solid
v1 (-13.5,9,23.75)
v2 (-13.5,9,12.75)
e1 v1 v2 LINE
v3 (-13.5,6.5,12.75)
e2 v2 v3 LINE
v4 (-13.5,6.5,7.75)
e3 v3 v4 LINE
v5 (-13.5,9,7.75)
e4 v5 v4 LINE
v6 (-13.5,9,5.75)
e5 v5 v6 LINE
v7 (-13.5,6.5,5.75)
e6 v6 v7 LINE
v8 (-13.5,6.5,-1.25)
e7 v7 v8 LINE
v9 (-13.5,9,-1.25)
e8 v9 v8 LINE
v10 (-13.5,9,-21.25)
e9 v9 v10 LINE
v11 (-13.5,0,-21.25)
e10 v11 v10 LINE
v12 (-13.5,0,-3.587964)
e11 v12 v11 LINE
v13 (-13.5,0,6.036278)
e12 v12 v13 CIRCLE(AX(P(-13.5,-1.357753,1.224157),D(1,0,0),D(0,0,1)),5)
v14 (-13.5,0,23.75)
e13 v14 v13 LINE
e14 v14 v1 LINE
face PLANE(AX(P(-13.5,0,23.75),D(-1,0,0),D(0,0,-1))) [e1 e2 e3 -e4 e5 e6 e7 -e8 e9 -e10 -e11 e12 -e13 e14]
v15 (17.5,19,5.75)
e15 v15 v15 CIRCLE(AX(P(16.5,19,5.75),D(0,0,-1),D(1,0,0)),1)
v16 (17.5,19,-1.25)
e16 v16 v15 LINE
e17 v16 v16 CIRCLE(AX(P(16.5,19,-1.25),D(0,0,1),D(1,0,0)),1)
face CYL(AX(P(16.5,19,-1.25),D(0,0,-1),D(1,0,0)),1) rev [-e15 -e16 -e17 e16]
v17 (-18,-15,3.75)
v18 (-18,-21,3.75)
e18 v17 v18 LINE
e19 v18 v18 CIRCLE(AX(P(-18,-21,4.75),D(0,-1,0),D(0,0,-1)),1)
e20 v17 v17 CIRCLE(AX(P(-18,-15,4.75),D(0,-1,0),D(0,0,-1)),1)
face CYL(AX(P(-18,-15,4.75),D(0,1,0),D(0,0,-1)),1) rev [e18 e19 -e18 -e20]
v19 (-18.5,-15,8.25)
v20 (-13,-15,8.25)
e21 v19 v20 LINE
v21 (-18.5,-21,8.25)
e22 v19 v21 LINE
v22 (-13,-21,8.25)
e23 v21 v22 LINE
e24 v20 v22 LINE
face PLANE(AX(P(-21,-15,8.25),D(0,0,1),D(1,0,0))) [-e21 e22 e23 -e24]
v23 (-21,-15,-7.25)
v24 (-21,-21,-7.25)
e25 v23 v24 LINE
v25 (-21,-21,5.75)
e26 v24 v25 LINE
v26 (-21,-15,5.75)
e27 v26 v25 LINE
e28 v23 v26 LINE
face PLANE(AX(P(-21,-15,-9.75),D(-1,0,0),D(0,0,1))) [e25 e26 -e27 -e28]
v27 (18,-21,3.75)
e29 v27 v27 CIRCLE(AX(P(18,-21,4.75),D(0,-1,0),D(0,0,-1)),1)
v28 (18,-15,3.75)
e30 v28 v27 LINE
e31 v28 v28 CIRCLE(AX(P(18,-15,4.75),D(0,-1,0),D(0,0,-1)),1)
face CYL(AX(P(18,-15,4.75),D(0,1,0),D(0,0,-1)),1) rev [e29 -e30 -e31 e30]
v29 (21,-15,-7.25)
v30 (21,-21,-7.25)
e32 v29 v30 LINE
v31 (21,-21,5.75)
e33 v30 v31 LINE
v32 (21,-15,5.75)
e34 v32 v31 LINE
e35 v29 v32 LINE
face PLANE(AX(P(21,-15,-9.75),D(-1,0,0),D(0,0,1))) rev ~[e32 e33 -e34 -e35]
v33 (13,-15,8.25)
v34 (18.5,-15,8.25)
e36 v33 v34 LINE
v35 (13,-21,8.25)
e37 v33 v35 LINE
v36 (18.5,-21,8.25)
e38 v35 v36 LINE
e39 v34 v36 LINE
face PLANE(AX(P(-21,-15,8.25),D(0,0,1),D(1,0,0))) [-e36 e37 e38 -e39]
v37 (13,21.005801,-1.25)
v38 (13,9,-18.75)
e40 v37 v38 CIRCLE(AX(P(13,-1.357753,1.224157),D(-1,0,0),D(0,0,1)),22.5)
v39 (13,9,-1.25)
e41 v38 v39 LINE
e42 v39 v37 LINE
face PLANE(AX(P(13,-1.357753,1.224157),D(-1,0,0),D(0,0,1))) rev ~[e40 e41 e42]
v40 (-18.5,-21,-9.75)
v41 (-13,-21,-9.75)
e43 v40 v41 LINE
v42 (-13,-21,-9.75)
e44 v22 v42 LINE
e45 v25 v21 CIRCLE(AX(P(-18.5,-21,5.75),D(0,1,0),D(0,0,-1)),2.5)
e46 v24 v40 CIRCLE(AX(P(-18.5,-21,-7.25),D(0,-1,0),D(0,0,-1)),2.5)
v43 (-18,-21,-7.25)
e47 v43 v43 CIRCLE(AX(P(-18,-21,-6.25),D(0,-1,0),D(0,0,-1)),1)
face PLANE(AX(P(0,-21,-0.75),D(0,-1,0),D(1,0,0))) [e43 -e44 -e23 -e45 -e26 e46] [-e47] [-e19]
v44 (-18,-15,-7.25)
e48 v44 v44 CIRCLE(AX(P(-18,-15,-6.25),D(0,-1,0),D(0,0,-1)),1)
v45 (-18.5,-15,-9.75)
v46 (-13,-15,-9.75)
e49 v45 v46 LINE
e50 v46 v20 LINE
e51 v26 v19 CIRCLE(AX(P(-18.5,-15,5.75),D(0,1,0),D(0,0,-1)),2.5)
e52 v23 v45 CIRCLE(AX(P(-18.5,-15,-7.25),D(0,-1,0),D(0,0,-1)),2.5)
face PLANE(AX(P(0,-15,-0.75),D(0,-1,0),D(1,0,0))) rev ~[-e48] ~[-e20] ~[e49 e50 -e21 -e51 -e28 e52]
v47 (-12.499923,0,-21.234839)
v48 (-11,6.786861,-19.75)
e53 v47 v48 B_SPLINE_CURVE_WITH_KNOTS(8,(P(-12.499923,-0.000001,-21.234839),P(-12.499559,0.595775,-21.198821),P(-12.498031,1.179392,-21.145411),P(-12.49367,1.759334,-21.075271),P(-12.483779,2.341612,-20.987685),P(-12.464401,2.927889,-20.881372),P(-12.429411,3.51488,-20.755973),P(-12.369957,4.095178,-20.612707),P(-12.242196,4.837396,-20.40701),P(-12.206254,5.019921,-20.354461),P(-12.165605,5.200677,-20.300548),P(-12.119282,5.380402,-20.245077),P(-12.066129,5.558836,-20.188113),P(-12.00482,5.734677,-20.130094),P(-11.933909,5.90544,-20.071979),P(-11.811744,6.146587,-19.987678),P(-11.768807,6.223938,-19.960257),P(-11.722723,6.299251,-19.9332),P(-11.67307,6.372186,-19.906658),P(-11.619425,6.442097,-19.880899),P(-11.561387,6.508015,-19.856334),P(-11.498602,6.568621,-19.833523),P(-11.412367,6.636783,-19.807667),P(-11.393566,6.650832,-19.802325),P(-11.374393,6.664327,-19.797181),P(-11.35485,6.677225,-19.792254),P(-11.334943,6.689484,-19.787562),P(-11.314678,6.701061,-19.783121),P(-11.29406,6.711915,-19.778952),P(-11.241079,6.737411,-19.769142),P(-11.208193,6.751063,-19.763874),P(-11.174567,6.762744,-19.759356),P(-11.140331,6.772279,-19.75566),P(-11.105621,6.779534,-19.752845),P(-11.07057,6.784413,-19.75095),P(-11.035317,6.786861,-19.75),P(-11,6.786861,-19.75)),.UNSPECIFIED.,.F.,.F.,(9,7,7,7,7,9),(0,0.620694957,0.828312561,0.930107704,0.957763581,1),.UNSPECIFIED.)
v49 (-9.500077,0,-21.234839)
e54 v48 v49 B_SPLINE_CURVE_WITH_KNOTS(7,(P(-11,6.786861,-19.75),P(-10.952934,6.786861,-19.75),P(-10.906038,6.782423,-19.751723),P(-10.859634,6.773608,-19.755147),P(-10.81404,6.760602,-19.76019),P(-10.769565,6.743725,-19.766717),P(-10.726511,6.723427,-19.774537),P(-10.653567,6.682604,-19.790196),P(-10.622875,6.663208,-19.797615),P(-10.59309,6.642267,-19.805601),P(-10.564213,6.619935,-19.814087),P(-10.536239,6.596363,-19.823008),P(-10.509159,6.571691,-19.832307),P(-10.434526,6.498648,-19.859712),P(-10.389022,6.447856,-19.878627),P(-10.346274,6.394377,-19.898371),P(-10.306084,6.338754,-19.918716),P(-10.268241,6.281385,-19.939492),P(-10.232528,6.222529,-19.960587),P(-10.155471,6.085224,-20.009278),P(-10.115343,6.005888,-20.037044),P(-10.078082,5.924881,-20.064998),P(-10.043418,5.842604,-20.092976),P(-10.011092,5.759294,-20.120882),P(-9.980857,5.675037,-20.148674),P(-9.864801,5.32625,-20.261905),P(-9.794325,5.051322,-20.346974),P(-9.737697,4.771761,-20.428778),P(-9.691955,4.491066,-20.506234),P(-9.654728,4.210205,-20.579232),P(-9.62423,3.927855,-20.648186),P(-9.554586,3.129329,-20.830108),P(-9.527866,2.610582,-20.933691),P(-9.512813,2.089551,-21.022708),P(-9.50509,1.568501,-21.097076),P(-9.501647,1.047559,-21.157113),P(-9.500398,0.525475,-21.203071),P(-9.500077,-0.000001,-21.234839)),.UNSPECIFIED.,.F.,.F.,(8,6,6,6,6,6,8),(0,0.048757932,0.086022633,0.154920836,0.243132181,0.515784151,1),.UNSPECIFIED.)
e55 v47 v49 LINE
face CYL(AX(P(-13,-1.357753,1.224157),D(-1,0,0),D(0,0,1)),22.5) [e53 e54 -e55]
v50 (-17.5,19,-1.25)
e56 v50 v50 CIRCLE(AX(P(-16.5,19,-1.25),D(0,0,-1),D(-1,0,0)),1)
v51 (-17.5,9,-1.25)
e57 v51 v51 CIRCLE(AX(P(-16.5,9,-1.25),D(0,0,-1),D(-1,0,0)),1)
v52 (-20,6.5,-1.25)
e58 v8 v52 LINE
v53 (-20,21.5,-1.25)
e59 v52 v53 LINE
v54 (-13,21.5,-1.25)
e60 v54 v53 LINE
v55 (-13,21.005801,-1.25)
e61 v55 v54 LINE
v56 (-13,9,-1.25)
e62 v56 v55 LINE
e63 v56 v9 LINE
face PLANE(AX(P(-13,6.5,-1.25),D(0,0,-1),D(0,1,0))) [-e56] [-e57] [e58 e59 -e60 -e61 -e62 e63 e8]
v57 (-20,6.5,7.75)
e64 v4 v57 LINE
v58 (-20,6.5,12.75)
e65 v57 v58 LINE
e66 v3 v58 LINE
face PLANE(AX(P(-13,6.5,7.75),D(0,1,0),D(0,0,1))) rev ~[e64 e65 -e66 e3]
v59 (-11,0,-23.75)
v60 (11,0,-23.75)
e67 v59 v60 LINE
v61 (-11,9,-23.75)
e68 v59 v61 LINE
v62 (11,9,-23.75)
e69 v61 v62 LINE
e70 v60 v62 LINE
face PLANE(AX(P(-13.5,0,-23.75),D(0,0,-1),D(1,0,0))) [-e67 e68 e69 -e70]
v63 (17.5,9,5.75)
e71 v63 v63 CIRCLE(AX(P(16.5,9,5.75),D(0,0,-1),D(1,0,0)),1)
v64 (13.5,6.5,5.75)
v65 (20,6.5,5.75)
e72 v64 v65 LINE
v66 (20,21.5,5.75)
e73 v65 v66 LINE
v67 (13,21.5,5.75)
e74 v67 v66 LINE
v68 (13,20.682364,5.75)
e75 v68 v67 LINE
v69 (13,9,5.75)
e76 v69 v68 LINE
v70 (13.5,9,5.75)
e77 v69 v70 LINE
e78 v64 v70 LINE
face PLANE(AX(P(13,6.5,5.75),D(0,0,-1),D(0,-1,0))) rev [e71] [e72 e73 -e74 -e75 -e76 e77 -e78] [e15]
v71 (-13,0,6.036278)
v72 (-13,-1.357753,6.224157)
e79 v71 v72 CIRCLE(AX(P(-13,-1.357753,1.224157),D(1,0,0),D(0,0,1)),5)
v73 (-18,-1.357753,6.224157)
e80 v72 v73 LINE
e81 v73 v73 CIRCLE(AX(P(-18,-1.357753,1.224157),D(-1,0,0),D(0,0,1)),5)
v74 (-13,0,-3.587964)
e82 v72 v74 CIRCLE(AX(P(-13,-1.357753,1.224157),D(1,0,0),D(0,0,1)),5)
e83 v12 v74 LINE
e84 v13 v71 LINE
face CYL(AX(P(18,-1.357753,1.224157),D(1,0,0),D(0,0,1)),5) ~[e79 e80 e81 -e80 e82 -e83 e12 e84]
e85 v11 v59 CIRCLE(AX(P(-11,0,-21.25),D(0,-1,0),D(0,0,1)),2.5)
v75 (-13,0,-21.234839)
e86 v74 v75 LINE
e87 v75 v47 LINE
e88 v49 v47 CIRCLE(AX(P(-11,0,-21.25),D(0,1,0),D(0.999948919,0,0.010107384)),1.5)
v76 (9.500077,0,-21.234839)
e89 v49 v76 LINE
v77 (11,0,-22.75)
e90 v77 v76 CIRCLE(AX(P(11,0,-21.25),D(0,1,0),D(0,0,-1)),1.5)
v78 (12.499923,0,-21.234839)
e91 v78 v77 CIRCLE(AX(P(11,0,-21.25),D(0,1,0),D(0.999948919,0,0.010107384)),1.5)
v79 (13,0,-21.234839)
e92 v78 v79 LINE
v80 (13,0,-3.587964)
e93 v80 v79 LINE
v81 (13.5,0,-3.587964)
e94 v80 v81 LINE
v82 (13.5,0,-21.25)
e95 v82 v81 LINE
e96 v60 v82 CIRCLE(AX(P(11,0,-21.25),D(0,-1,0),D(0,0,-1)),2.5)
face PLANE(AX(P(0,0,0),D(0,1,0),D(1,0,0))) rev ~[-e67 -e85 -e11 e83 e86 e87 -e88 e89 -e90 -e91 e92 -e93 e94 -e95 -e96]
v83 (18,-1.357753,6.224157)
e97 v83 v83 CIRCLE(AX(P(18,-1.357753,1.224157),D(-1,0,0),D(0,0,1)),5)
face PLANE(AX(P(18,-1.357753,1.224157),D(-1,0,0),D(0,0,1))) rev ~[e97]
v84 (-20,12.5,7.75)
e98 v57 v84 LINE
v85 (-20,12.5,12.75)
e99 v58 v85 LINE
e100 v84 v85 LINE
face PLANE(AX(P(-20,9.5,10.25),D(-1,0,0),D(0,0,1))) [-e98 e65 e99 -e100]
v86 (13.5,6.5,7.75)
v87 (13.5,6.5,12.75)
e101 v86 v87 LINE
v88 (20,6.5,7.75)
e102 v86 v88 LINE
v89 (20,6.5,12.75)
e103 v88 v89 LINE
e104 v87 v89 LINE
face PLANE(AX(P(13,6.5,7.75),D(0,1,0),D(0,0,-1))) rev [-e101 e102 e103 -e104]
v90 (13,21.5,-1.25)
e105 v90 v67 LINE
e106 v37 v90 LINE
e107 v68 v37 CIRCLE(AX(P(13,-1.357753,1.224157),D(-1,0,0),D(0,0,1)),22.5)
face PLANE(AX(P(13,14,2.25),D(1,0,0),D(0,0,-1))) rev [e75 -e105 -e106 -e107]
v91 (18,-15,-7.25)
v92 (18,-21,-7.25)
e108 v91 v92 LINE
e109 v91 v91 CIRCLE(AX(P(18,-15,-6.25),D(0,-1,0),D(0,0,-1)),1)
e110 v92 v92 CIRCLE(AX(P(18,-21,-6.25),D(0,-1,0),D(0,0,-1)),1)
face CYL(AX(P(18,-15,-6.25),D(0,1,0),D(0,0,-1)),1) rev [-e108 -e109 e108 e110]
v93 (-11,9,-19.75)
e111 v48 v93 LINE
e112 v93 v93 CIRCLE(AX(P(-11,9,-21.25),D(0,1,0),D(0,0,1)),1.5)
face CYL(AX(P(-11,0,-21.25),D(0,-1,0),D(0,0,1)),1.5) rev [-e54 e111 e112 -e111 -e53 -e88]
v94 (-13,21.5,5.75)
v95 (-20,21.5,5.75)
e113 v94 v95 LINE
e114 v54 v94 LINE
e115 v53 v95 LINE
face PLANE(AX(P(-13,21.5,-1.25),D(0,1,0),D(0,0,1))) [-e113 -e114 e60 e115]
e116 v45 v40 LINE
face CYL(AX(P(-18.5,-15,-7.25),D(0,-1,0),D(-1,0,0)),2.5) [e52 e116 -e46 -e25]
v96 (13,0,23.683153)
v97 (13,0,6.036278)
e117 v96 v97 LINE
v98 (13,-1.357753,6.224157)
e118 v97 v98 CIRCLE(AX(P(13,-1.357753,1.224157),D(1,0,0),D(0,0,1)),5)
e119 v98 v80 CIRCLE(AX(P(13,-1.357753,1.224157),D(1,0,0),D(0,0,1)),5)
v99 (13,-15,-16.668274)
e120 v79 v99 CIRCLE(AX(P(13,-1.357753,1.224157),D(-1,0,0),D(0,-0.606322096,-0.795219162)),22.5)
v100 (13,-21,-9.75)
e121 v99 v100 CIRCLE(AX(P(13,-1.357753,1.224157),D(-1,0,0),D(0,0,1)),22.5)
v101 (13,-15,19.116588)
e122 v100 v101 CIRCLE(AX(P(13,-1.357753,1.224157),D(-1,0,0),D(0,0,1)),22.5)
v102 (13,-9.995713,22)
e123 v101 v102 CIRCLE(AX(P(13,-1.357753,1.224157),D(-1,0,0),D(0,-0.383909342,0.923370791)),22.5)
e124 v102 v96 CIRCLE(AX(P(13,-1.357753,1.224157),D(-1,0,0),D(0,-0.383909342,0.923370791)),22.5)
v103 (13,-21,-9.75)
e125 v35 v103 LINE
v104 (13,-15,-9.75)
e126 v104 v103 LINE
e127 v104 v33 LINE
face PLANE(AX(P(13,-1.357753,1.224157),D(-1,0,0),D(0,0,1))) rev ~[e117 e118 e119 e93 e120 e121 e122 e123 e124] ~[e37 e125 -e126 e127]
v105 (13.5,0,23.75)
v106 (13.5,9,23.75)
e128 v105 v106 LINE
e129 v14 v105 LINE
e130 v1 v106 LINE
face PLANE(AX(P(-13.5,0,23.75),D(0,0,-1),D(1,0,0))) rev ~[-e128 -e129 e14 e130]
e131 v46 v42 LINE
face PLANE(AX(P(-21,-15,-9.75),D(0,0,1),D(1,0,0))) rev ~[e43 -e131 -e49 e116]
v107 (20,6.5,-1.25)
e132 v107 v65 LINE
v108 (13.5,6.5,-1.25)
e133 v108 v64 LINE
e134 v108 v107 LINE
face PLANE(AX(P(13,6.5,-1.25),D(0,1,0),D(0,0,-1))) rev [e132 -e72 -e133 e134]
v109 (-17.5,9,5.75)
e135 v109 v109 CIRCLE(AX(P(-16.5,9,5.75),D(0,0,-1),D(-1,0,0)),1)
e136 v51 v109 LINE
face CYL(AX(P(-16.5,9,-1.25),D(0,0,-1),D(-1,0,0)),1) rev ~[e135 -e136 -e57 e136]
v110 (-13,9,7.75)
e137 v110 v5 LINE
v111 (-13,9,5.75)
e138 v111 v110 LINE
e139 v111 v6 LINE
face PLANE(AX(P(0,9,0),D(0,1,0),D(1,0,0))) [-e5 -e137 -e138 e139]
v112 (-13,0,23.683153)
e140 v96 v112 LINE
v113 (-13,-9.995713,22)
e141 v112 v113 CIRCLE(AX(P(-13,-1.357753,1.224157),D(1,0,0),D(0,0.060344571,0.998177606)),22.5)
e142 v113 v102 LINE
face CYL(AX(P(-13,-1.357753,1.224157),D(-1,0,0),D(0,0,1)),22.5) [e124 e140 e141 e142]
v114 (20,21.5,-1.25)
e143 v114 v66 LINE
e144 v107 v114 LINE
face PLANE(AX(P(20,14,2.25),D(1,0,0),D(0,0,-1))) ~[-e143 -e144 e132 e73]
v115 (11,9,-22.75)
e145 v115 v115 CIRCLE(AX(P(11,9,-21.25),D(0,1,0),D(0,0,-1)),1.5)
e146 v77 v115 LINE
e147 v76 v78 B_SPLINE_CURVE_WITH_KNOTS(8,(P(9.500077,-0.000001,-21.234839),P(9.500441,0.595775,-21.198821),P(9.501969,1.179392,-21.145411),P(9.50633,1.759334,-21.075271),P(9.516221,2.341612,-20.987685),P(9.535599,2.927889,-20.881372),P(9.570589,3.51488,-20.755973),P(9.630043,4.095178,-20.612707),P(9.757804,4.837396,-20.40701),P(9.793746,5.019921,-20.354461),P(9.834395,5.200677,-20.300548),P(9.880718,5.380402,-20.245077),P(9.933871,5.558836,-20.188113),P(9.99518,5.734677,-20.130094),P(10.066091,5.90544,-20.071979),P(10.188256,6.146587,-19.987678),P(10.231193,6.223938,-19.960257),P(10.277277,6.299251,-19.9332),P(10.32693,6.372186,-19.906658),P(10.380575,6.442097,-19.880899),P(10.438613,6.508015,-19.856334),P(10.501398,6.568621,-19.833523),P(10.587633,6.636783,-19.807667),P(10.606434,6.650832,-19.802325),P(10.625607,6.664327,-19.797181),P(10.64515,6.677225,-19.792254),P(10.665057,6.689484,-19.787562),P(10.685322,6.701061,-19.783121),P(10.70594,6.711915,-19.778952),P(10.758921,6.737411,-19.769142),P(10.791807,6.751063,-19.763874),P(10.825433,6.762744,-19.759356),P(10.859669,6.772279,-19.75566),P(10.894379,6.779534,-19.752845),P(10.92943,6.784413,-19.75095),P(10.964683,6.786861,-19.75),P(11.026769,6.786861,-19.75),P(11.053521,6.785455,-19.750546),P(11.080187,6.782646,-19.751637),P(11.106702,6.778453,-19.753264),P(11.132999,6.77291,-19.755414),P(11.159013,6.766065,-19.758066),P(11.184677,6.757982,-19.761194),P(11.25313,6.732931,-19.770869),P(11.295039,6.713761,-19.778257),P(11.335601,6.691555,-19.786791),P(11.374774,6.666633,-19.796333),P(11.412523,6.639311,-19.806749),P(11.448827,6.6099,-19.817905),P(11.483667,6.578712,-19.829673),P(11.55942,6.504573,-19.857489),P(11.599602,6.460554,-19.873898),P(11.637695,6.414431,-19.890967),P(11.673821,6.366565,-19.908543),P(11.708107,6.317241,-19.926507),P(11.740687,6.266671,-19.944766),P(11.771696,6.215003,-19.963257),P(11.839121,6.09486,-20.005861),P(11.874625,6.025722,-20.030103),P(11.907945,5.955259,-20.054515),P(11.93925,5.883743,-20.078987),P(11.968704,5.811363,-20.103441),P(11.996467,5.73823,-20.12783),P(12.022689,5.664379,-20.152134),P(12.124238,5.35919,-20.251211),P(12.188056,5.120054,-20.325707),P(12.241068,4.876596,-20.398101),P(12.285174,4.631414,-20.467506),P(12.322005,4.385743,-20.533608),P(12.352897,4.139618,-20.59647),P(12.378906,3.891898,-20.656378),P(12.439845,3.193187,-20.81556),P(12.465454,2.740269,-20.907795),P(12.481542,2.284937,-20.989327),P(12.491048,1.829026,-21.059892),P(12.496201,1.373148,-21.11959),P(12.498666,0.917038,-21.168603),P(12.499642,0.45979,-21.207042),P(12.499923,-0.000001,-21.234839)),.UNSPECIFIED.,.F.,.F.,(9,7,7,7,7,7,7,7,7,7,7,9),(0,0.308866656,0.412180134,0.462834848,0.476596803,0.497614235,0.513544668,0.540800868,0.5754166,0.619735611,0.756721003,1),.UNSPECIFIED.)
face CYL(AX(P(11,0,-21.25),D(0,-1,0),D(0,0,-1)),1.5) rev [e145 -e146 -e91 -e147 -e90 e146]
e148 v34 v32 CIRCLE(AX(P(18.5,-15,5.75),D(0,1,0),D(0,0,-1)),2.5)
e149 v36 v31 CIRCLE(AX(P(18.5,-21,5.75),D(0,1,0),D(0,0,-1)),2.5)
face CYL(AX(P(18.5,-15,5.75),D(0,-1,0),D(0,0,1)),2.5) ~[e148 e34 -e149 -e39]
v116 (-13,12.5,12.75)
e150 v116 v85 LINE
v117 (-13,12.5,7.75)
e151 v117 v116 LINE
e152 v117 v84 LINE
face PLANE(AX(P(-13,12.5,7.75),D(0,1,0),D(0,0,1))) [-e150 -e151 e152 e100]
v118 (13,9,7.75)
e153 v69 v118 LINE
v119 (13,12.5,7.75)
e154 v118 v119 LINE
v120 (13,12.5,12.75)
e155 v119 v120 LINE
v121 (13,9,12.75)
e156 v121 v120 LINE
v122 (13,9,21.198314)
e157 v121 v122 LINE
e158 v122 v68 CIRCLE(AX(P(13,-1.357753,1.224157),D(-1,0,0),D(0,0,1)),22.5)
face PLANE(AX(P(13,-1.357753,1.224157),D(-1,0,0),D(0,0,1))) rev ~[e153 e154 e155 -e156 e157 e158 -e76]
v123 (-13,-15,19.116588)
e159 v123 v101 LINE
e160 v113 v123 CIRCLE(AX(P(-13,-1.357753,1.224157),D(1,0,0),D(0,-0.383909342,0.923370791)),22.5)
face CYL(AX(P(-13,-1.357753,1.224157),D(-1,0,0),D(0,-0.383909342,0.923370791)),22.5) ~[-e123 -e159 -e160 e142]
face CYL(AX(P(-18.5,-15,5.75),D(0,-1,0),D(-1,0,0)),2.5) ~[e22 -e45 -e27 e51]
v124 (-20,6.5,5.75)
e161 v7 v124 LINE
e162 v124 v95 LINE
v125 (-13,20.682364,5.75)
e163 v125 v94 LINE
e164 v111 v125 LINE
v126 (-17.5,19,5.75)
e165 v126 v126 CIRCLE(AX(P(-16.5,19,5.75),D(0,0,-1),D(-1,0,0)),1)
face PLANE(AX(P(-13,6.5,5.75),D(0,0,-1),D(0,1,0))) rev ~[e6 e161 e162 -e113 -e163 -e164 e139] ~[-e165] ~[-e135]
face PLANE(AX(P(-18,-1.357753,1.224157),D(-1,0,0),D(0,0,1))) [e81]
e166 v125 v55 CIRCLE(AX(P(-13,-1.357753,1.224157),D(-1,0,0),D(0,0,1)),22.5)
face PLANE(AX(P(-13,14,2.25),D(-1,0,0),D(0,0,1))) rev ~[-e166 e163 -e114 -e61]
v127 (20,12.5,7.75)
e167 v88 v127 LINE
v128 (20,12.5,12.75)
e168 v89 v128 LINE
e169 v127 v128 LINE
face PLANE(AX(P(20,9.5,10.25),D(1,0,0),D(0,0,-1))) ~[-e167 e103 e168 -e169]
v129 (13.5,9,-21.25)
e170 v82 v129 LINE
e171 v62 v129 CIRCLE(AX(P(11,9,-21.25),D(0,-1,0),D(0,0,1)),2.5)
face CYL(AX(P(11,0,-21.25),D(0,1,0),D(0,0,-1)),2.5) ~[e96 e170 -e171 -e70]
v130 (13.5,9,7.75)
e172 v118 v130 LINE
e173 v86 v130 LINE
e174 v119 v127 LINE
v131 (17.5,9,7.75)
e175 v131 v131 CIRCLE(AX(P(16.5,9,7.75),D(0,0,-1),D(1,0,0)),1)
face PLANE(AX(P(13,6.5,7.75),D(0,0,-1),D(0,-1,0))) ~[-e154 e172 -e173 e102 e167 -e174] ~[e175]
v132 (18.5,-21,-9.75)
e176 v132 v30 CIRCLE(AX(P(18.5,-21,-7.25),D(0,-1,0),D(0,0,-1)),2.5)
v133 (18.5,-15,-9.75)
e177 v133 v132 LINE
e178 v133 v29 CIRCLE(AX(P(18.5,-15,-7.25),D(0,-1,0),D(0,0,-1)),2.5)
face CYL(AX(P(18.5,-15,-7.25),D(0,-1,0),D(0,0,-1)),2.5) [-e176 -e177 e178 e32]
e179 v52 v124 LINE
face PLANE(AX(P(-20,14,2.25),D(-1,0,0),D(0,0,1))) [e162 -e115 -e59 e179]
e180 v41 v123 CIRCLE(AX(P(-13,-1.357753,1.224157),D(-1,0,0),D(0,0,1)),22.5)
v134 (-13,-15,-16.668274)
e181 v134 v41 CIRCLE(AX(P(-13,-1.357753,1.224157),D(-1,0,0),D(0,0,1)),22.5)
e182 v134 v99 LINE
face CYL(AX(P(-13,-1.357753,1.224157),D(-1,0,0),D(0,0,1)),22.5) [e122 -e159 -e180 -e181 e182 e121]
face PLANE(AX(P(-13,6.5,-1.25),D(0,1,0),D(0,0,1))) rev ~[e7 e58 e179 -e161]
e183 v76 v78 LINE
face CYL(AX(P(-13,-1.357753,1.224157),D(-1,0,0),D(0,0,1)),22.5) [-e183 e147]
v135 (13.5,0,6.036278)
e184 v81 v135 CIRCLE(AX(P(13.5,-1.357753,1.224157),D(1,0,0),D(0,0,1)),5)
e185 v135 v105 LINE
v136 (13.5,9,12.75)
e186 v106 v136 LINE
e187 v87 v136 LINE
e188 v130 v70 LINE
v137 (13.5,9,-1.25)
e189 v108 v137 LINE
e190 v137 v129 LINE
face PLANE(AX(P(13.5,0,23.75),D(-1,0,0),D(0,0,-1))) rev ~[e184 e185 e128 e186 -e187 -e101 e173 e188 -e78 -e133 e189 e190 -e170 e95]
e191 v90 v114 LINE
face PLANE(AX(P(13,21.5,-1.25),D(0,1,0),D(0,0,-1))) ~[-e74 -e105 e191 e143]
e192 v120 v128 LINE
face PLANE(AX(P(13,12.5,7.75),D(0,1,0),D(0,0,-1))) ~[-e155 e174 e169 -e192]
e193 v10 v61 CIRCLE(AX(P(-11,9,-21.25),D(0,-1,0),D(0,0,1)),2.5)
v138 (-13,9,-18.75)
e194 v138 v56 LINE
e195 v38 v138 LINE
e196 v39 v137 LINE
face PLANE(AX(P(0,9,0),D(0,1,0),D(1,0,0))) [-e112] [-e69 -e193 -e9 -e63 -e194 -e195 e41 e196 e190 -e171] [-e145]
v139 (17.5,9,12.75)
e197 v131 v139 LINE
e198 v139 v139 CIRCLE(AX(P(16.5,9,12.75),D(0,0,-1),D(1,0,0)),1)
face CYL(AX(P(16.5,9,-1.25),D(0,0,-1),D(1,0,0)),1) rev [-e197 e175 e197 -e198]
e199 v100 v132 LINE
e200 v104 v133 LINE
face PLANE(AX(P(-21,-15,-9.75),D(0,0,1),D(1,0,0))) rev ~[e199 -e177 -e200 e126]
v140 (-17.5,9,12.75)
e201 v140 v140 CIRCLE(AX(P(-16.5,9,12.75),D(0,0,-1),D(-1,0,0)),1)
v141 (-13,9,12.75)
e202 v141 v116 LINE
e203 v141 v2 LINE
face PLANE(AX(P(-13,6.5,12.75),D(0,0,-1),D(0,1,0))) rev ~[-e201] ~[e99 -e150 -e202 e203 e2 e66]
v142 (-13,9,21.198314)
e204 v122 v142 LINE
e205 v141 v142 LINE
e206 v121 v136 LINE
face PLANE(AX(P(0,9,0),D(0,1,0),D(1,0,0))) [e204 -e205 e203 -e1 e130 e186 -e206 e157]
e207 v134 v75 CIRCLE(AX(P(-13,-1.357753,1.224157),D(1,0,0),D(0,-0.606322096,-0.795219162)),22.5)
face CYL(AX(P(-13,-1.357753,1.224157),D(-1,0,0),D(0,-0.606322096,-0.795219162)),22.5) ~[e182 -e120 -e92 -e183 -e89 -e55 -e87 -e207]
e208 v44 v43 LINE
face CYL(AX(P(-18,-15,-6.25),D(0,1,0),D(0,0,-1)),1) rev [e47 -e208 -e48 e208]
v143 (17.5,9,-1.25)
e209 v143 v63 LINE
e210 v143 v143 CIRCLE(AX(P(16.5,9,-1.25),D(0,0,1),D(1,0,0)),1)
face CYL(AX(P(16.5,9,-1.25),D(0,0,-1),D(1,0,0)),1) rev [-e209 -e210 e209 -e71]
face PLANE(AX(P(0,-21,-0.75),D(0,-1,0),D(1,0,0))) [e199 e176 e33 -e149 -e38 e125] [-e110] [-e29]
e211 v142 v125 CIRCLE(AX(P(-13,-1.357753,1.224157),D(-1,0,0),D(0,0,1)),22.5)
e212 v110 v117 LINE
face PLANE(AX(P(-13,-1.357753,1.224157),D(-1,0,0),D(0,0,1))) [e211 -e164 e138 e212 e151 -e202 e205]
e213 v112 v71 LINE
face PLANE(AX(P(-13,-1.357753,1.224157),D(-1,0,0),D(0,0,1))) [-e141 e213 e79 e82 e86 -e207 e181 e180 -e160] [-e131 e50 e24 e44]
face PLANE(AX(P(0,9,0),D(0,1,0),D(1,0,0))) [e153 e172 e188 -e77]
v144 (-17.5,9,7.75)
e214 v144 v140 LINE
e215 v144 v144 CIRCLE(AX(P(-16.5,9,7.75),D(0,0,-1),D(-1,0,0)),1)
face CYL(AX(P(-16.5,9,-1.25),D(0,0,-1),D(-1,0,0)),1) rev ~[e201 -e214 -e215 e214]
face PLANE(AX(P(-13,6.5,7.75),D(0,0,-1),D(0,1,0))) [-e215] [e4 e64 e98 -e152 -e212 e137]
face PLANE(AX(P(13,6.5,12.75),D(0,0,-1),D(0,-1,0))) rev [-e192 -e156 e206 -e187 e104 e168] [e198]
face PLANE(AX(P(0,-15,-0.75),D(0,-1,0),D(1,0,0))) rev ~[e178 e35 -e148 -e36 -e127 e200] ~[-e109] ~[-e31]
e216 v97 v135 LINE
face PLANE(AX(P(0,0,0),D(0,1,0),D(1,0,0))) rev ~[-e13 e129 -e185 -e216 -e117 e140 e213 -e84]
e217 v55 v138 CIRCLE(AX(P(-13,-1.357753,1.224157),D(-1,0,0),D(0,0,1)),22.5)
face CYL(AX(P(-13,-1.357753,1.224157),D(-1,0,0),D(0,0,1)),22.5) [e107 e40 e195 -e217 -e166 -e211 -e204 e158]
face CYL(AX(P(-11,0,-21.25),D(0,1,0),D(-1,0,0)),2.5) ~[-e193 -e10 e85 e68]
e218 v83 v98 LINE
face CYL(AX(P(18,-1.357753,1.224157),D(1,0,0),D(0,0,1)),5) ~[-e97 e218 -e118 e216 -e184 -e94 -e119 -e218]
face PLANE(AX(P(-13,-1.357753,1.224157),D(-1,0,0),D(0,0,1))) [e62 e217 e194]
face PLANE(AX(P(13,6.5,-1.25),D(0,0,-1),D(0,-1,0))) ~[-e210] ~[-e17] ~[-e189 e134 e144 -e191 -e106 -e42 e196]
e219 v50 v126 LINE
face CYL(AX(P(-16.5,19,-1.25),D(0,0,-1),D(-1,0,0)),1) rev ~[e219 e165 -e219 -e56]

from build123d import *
from build123d.topology import SkipClean

# Parameters (mm, degrees)
SKETCH3_W                 = 27
SKETCH3_H                 = 47.5
SKETCH3_R                 = 1.5
BOSS_EXTRUDE1_DEPTH       = 9
FILLET1_R                 = 2.5
SKETCH4_W                 = 26
SKETCH4_H                 = 44
BOSS_EXTRUDE5_DEPTH       = 15
SKETCH5_W                 = 25
SKETCH5_H                 = 18
BOSS_EXTRUDE6_DEPTH       = 5
SKETCH5_3_W               = 42
SKETCH5_3_H               = 18
SKETCH5_3_R               = 1
BOSS_EXTRUDE7_DEPTH       = 6
FILLET4_R                 = 2.5
CUT_EXTRUDE1_DEPTH        = 47.487229429
SKETCH6_5_R               = 22.5
BOSS_EXTRUDE8_DEPTH       = 26
SKETCH9_W                 = 7
SKETCH9_H                 = 15
SKETCH9_W_2               = 5
SKETCH9_H_2               = 6
BOSS_EXTRUDE9_DEPTH       = 7
SKETCH10_R                = 1
CUT_EXTRUDE2_DEPTH        = 41.437511922
BOSS_EXTRUDE10_DEPTH      = 5
BOSS_EXTRUDE10_DEPTH_BACK = 31
SKETCH6_6_R               = 5


with BuildPart() as part:
    # Sketch3 → Boss-Extrude1 (new body)
    with BuildSketch(Plane(origin=(0, 0, 0), x_dir=(1, 0, 0), z_dir=(0, 1, 0))):
        Rectangle(SKETCH3_W, SKETCH3_H)
        with Locations(Location((-11, 21.25, 0), (0, 0, 270))):
            Circle(SKETCH3_R, mode=Mode.SUBTRACT)
        with Locations(Location((11, 21.25, 0), (0, 0, 90))):
            Circle(SKETCH3_R, mode=Mode.SUBTRACT)
    extrude(amount=BOSS_EXTRUDE1_DEPTH)

    # Fillet1
    fillet1_edges = [part.edges().sort_by_distance(p)[0] for p in [
        (-13.5, 4.5, -23.75),
        (13.5, 4.5, -23.75),
    ]]
    fillet(fillet1_edges, radius=FILLET1_R)

    # Sketch4 → Boss-Extrude5 (add)
    with BuildSketch(Plane.XZ):
        Rectangle(SKETCH4_W, SKETCH4_H)
    extrude(amount=BOSS_EXTRUDE5_DEPTH)

    # Sketch5 → Boss-Extrude6 (add)
    with BuildSketch(Plane.XZ.offset(15)):
        with Locations((0, -0.75)):
            Rectangle(SKETCH5_W, SKETCH5_H)
    extrude(amount=-BOSS_EXTRUDE6_DEPTH)

    # Sketch5<3> → Boss-Extrude7 (add)
    with BuildSketch(Plane.XZ.offset(15)):
        with Locations((0, -0.75)):
            Rectangle(SKETCH5_3_W, SKETCH5_3_H)
        with Locations(Location((-18, -6.25, 0), (0, 0, 270))):
            Circle(SKETCH5_3_R, mode=Mode.SUBTRACT)
        with Locations(Location((18, -6.25, 0), (0, 0, 270))):
            Circle(SKETCH5_3_R, mode=Mode.SUBTRACT)
        with Locations(Location((-18, 4.75, 0), (0, 0, 270))):
            Circle(SKETCH5_3_R, mode=Mode.SUBTRACT)
        with Locations(Location((18, 4.75, 0), (0, 0, 270))):
            Circle(SKETCH5_3_R, mode=Mode.SUBTRACT)
    extrude(amount=BOSS_EXTRUDE7_DEPTH)

    # Fillet4
    fillet4_edges = [part.edges().sort_by_distance(p)[0] for p in [
        (21, -18, 8.25),
        (-21, -18, 8.25),
        (-21, -18, -9.75),
        (21, -18, -9.75),
    ]]
    fillet(fillet4_edges, radius=FILLET4_R)

    # Sketch6 → Cut-Extrude1 (cut, through all)
    with BuildSketch(Plane.ZY.offset(13)):
        with BuildLine():
            ThreePointArc((-16.66827394, -15), (-20.300466386, -7.910658998), (-21.234838924, 0))
            Line((-21.234838924, 0), (-22, 0))
            Line((-22, 0), (-22, -15))
            Line((-22, -15), (-16.66827394, -15))
        make_face()
        with BuildLine():
            Line((22, -15), (22, -9.995713029))
            ThreePointArc((22, -9.995713029), (20.719530361, -12.590758918), (19.116588355, -15))
            Line((19.116588355, -15), (22, -15))
        make_face()
    extrude(amount=-CUT_EXTRUDE1_DEPTH, mode=Mode.SUBTRACT)

    # Sketch6<5> → Boss-Extrude8 (add)
    with BuildSketch(Plane.ZY.offset(13)):
        with Locations((1.224157208, -1.357752838)):
            Circle(SKETCH6_5_R)
    extrude(amount=-BOSS_EXTRUDE8_DEPTH)

    # Sketch9 → Boss-Extrude9 (add)
    with BuildSketch(Plane.ZY.offset(13)):
        with Locations((2.25, 14)):
            Rectangle(SKETCH9_W, SKETCH9_H)
        with Locations((10.25, 9.5)):
            Rectangle(SKETCH9_W_2, SKETCH9_H_2)
    boss_extrude9 = extrude(amount=BOSS_EXTRUDE9_DEPTH)

    # Sketch10 → Cut-Extrude2 (cut, through all)
    with BuildSketch(Plane(origin=(0, 0, -1.25), x_dir=(-1, 0, 0), z_dir=(0, 0, -1))):
        with Locations((16.5, 9)):
            Circle(SKETCH10_R)
        with Locations((16.5, 19)):
            Circle(SKETCH10_R)
    cut_extrude2 = extrude(amount=-CUT_EXTRUDE2_DEPTH, mode=Mode.SUBTRACT)

    # Mirror1: Boss-Extrude9, Cut-Extrude2 across plane
    add(boss_extrude9.mirror(Plane(origin=(0, 0, 0), x_dir=(0, 0, 1), z_dir=(1, 0, 0))))
    add(cut_extrude2.mirror(Plane(origin=(0, 0, 0), x_dir=(0, 0, 1), z_dir=(1, 0, 0))), mode=Mode.SUBTRACT)

    # Sketch6<6> → Boss-Extrude10 (add, two sides: drawn at the far end of the back side and taken through both)
    with SkipClean():  # the faces are left unmerged after this step: merging them gives an invalid solid
        with BuildSketch(Plane.ZY.offset(13).offset(-BOSS_EXTRUDE10_DEPTH_BACK)):
            with Locations((1.224157208, -1.357752838)):
                Circle(SKETCH6_6_R)
        extrude(amount=BOSS_EXTRUDE10_DEPTH + BOSS_EXTRUDE10_DEPTH_BACK)


solid = part.part
